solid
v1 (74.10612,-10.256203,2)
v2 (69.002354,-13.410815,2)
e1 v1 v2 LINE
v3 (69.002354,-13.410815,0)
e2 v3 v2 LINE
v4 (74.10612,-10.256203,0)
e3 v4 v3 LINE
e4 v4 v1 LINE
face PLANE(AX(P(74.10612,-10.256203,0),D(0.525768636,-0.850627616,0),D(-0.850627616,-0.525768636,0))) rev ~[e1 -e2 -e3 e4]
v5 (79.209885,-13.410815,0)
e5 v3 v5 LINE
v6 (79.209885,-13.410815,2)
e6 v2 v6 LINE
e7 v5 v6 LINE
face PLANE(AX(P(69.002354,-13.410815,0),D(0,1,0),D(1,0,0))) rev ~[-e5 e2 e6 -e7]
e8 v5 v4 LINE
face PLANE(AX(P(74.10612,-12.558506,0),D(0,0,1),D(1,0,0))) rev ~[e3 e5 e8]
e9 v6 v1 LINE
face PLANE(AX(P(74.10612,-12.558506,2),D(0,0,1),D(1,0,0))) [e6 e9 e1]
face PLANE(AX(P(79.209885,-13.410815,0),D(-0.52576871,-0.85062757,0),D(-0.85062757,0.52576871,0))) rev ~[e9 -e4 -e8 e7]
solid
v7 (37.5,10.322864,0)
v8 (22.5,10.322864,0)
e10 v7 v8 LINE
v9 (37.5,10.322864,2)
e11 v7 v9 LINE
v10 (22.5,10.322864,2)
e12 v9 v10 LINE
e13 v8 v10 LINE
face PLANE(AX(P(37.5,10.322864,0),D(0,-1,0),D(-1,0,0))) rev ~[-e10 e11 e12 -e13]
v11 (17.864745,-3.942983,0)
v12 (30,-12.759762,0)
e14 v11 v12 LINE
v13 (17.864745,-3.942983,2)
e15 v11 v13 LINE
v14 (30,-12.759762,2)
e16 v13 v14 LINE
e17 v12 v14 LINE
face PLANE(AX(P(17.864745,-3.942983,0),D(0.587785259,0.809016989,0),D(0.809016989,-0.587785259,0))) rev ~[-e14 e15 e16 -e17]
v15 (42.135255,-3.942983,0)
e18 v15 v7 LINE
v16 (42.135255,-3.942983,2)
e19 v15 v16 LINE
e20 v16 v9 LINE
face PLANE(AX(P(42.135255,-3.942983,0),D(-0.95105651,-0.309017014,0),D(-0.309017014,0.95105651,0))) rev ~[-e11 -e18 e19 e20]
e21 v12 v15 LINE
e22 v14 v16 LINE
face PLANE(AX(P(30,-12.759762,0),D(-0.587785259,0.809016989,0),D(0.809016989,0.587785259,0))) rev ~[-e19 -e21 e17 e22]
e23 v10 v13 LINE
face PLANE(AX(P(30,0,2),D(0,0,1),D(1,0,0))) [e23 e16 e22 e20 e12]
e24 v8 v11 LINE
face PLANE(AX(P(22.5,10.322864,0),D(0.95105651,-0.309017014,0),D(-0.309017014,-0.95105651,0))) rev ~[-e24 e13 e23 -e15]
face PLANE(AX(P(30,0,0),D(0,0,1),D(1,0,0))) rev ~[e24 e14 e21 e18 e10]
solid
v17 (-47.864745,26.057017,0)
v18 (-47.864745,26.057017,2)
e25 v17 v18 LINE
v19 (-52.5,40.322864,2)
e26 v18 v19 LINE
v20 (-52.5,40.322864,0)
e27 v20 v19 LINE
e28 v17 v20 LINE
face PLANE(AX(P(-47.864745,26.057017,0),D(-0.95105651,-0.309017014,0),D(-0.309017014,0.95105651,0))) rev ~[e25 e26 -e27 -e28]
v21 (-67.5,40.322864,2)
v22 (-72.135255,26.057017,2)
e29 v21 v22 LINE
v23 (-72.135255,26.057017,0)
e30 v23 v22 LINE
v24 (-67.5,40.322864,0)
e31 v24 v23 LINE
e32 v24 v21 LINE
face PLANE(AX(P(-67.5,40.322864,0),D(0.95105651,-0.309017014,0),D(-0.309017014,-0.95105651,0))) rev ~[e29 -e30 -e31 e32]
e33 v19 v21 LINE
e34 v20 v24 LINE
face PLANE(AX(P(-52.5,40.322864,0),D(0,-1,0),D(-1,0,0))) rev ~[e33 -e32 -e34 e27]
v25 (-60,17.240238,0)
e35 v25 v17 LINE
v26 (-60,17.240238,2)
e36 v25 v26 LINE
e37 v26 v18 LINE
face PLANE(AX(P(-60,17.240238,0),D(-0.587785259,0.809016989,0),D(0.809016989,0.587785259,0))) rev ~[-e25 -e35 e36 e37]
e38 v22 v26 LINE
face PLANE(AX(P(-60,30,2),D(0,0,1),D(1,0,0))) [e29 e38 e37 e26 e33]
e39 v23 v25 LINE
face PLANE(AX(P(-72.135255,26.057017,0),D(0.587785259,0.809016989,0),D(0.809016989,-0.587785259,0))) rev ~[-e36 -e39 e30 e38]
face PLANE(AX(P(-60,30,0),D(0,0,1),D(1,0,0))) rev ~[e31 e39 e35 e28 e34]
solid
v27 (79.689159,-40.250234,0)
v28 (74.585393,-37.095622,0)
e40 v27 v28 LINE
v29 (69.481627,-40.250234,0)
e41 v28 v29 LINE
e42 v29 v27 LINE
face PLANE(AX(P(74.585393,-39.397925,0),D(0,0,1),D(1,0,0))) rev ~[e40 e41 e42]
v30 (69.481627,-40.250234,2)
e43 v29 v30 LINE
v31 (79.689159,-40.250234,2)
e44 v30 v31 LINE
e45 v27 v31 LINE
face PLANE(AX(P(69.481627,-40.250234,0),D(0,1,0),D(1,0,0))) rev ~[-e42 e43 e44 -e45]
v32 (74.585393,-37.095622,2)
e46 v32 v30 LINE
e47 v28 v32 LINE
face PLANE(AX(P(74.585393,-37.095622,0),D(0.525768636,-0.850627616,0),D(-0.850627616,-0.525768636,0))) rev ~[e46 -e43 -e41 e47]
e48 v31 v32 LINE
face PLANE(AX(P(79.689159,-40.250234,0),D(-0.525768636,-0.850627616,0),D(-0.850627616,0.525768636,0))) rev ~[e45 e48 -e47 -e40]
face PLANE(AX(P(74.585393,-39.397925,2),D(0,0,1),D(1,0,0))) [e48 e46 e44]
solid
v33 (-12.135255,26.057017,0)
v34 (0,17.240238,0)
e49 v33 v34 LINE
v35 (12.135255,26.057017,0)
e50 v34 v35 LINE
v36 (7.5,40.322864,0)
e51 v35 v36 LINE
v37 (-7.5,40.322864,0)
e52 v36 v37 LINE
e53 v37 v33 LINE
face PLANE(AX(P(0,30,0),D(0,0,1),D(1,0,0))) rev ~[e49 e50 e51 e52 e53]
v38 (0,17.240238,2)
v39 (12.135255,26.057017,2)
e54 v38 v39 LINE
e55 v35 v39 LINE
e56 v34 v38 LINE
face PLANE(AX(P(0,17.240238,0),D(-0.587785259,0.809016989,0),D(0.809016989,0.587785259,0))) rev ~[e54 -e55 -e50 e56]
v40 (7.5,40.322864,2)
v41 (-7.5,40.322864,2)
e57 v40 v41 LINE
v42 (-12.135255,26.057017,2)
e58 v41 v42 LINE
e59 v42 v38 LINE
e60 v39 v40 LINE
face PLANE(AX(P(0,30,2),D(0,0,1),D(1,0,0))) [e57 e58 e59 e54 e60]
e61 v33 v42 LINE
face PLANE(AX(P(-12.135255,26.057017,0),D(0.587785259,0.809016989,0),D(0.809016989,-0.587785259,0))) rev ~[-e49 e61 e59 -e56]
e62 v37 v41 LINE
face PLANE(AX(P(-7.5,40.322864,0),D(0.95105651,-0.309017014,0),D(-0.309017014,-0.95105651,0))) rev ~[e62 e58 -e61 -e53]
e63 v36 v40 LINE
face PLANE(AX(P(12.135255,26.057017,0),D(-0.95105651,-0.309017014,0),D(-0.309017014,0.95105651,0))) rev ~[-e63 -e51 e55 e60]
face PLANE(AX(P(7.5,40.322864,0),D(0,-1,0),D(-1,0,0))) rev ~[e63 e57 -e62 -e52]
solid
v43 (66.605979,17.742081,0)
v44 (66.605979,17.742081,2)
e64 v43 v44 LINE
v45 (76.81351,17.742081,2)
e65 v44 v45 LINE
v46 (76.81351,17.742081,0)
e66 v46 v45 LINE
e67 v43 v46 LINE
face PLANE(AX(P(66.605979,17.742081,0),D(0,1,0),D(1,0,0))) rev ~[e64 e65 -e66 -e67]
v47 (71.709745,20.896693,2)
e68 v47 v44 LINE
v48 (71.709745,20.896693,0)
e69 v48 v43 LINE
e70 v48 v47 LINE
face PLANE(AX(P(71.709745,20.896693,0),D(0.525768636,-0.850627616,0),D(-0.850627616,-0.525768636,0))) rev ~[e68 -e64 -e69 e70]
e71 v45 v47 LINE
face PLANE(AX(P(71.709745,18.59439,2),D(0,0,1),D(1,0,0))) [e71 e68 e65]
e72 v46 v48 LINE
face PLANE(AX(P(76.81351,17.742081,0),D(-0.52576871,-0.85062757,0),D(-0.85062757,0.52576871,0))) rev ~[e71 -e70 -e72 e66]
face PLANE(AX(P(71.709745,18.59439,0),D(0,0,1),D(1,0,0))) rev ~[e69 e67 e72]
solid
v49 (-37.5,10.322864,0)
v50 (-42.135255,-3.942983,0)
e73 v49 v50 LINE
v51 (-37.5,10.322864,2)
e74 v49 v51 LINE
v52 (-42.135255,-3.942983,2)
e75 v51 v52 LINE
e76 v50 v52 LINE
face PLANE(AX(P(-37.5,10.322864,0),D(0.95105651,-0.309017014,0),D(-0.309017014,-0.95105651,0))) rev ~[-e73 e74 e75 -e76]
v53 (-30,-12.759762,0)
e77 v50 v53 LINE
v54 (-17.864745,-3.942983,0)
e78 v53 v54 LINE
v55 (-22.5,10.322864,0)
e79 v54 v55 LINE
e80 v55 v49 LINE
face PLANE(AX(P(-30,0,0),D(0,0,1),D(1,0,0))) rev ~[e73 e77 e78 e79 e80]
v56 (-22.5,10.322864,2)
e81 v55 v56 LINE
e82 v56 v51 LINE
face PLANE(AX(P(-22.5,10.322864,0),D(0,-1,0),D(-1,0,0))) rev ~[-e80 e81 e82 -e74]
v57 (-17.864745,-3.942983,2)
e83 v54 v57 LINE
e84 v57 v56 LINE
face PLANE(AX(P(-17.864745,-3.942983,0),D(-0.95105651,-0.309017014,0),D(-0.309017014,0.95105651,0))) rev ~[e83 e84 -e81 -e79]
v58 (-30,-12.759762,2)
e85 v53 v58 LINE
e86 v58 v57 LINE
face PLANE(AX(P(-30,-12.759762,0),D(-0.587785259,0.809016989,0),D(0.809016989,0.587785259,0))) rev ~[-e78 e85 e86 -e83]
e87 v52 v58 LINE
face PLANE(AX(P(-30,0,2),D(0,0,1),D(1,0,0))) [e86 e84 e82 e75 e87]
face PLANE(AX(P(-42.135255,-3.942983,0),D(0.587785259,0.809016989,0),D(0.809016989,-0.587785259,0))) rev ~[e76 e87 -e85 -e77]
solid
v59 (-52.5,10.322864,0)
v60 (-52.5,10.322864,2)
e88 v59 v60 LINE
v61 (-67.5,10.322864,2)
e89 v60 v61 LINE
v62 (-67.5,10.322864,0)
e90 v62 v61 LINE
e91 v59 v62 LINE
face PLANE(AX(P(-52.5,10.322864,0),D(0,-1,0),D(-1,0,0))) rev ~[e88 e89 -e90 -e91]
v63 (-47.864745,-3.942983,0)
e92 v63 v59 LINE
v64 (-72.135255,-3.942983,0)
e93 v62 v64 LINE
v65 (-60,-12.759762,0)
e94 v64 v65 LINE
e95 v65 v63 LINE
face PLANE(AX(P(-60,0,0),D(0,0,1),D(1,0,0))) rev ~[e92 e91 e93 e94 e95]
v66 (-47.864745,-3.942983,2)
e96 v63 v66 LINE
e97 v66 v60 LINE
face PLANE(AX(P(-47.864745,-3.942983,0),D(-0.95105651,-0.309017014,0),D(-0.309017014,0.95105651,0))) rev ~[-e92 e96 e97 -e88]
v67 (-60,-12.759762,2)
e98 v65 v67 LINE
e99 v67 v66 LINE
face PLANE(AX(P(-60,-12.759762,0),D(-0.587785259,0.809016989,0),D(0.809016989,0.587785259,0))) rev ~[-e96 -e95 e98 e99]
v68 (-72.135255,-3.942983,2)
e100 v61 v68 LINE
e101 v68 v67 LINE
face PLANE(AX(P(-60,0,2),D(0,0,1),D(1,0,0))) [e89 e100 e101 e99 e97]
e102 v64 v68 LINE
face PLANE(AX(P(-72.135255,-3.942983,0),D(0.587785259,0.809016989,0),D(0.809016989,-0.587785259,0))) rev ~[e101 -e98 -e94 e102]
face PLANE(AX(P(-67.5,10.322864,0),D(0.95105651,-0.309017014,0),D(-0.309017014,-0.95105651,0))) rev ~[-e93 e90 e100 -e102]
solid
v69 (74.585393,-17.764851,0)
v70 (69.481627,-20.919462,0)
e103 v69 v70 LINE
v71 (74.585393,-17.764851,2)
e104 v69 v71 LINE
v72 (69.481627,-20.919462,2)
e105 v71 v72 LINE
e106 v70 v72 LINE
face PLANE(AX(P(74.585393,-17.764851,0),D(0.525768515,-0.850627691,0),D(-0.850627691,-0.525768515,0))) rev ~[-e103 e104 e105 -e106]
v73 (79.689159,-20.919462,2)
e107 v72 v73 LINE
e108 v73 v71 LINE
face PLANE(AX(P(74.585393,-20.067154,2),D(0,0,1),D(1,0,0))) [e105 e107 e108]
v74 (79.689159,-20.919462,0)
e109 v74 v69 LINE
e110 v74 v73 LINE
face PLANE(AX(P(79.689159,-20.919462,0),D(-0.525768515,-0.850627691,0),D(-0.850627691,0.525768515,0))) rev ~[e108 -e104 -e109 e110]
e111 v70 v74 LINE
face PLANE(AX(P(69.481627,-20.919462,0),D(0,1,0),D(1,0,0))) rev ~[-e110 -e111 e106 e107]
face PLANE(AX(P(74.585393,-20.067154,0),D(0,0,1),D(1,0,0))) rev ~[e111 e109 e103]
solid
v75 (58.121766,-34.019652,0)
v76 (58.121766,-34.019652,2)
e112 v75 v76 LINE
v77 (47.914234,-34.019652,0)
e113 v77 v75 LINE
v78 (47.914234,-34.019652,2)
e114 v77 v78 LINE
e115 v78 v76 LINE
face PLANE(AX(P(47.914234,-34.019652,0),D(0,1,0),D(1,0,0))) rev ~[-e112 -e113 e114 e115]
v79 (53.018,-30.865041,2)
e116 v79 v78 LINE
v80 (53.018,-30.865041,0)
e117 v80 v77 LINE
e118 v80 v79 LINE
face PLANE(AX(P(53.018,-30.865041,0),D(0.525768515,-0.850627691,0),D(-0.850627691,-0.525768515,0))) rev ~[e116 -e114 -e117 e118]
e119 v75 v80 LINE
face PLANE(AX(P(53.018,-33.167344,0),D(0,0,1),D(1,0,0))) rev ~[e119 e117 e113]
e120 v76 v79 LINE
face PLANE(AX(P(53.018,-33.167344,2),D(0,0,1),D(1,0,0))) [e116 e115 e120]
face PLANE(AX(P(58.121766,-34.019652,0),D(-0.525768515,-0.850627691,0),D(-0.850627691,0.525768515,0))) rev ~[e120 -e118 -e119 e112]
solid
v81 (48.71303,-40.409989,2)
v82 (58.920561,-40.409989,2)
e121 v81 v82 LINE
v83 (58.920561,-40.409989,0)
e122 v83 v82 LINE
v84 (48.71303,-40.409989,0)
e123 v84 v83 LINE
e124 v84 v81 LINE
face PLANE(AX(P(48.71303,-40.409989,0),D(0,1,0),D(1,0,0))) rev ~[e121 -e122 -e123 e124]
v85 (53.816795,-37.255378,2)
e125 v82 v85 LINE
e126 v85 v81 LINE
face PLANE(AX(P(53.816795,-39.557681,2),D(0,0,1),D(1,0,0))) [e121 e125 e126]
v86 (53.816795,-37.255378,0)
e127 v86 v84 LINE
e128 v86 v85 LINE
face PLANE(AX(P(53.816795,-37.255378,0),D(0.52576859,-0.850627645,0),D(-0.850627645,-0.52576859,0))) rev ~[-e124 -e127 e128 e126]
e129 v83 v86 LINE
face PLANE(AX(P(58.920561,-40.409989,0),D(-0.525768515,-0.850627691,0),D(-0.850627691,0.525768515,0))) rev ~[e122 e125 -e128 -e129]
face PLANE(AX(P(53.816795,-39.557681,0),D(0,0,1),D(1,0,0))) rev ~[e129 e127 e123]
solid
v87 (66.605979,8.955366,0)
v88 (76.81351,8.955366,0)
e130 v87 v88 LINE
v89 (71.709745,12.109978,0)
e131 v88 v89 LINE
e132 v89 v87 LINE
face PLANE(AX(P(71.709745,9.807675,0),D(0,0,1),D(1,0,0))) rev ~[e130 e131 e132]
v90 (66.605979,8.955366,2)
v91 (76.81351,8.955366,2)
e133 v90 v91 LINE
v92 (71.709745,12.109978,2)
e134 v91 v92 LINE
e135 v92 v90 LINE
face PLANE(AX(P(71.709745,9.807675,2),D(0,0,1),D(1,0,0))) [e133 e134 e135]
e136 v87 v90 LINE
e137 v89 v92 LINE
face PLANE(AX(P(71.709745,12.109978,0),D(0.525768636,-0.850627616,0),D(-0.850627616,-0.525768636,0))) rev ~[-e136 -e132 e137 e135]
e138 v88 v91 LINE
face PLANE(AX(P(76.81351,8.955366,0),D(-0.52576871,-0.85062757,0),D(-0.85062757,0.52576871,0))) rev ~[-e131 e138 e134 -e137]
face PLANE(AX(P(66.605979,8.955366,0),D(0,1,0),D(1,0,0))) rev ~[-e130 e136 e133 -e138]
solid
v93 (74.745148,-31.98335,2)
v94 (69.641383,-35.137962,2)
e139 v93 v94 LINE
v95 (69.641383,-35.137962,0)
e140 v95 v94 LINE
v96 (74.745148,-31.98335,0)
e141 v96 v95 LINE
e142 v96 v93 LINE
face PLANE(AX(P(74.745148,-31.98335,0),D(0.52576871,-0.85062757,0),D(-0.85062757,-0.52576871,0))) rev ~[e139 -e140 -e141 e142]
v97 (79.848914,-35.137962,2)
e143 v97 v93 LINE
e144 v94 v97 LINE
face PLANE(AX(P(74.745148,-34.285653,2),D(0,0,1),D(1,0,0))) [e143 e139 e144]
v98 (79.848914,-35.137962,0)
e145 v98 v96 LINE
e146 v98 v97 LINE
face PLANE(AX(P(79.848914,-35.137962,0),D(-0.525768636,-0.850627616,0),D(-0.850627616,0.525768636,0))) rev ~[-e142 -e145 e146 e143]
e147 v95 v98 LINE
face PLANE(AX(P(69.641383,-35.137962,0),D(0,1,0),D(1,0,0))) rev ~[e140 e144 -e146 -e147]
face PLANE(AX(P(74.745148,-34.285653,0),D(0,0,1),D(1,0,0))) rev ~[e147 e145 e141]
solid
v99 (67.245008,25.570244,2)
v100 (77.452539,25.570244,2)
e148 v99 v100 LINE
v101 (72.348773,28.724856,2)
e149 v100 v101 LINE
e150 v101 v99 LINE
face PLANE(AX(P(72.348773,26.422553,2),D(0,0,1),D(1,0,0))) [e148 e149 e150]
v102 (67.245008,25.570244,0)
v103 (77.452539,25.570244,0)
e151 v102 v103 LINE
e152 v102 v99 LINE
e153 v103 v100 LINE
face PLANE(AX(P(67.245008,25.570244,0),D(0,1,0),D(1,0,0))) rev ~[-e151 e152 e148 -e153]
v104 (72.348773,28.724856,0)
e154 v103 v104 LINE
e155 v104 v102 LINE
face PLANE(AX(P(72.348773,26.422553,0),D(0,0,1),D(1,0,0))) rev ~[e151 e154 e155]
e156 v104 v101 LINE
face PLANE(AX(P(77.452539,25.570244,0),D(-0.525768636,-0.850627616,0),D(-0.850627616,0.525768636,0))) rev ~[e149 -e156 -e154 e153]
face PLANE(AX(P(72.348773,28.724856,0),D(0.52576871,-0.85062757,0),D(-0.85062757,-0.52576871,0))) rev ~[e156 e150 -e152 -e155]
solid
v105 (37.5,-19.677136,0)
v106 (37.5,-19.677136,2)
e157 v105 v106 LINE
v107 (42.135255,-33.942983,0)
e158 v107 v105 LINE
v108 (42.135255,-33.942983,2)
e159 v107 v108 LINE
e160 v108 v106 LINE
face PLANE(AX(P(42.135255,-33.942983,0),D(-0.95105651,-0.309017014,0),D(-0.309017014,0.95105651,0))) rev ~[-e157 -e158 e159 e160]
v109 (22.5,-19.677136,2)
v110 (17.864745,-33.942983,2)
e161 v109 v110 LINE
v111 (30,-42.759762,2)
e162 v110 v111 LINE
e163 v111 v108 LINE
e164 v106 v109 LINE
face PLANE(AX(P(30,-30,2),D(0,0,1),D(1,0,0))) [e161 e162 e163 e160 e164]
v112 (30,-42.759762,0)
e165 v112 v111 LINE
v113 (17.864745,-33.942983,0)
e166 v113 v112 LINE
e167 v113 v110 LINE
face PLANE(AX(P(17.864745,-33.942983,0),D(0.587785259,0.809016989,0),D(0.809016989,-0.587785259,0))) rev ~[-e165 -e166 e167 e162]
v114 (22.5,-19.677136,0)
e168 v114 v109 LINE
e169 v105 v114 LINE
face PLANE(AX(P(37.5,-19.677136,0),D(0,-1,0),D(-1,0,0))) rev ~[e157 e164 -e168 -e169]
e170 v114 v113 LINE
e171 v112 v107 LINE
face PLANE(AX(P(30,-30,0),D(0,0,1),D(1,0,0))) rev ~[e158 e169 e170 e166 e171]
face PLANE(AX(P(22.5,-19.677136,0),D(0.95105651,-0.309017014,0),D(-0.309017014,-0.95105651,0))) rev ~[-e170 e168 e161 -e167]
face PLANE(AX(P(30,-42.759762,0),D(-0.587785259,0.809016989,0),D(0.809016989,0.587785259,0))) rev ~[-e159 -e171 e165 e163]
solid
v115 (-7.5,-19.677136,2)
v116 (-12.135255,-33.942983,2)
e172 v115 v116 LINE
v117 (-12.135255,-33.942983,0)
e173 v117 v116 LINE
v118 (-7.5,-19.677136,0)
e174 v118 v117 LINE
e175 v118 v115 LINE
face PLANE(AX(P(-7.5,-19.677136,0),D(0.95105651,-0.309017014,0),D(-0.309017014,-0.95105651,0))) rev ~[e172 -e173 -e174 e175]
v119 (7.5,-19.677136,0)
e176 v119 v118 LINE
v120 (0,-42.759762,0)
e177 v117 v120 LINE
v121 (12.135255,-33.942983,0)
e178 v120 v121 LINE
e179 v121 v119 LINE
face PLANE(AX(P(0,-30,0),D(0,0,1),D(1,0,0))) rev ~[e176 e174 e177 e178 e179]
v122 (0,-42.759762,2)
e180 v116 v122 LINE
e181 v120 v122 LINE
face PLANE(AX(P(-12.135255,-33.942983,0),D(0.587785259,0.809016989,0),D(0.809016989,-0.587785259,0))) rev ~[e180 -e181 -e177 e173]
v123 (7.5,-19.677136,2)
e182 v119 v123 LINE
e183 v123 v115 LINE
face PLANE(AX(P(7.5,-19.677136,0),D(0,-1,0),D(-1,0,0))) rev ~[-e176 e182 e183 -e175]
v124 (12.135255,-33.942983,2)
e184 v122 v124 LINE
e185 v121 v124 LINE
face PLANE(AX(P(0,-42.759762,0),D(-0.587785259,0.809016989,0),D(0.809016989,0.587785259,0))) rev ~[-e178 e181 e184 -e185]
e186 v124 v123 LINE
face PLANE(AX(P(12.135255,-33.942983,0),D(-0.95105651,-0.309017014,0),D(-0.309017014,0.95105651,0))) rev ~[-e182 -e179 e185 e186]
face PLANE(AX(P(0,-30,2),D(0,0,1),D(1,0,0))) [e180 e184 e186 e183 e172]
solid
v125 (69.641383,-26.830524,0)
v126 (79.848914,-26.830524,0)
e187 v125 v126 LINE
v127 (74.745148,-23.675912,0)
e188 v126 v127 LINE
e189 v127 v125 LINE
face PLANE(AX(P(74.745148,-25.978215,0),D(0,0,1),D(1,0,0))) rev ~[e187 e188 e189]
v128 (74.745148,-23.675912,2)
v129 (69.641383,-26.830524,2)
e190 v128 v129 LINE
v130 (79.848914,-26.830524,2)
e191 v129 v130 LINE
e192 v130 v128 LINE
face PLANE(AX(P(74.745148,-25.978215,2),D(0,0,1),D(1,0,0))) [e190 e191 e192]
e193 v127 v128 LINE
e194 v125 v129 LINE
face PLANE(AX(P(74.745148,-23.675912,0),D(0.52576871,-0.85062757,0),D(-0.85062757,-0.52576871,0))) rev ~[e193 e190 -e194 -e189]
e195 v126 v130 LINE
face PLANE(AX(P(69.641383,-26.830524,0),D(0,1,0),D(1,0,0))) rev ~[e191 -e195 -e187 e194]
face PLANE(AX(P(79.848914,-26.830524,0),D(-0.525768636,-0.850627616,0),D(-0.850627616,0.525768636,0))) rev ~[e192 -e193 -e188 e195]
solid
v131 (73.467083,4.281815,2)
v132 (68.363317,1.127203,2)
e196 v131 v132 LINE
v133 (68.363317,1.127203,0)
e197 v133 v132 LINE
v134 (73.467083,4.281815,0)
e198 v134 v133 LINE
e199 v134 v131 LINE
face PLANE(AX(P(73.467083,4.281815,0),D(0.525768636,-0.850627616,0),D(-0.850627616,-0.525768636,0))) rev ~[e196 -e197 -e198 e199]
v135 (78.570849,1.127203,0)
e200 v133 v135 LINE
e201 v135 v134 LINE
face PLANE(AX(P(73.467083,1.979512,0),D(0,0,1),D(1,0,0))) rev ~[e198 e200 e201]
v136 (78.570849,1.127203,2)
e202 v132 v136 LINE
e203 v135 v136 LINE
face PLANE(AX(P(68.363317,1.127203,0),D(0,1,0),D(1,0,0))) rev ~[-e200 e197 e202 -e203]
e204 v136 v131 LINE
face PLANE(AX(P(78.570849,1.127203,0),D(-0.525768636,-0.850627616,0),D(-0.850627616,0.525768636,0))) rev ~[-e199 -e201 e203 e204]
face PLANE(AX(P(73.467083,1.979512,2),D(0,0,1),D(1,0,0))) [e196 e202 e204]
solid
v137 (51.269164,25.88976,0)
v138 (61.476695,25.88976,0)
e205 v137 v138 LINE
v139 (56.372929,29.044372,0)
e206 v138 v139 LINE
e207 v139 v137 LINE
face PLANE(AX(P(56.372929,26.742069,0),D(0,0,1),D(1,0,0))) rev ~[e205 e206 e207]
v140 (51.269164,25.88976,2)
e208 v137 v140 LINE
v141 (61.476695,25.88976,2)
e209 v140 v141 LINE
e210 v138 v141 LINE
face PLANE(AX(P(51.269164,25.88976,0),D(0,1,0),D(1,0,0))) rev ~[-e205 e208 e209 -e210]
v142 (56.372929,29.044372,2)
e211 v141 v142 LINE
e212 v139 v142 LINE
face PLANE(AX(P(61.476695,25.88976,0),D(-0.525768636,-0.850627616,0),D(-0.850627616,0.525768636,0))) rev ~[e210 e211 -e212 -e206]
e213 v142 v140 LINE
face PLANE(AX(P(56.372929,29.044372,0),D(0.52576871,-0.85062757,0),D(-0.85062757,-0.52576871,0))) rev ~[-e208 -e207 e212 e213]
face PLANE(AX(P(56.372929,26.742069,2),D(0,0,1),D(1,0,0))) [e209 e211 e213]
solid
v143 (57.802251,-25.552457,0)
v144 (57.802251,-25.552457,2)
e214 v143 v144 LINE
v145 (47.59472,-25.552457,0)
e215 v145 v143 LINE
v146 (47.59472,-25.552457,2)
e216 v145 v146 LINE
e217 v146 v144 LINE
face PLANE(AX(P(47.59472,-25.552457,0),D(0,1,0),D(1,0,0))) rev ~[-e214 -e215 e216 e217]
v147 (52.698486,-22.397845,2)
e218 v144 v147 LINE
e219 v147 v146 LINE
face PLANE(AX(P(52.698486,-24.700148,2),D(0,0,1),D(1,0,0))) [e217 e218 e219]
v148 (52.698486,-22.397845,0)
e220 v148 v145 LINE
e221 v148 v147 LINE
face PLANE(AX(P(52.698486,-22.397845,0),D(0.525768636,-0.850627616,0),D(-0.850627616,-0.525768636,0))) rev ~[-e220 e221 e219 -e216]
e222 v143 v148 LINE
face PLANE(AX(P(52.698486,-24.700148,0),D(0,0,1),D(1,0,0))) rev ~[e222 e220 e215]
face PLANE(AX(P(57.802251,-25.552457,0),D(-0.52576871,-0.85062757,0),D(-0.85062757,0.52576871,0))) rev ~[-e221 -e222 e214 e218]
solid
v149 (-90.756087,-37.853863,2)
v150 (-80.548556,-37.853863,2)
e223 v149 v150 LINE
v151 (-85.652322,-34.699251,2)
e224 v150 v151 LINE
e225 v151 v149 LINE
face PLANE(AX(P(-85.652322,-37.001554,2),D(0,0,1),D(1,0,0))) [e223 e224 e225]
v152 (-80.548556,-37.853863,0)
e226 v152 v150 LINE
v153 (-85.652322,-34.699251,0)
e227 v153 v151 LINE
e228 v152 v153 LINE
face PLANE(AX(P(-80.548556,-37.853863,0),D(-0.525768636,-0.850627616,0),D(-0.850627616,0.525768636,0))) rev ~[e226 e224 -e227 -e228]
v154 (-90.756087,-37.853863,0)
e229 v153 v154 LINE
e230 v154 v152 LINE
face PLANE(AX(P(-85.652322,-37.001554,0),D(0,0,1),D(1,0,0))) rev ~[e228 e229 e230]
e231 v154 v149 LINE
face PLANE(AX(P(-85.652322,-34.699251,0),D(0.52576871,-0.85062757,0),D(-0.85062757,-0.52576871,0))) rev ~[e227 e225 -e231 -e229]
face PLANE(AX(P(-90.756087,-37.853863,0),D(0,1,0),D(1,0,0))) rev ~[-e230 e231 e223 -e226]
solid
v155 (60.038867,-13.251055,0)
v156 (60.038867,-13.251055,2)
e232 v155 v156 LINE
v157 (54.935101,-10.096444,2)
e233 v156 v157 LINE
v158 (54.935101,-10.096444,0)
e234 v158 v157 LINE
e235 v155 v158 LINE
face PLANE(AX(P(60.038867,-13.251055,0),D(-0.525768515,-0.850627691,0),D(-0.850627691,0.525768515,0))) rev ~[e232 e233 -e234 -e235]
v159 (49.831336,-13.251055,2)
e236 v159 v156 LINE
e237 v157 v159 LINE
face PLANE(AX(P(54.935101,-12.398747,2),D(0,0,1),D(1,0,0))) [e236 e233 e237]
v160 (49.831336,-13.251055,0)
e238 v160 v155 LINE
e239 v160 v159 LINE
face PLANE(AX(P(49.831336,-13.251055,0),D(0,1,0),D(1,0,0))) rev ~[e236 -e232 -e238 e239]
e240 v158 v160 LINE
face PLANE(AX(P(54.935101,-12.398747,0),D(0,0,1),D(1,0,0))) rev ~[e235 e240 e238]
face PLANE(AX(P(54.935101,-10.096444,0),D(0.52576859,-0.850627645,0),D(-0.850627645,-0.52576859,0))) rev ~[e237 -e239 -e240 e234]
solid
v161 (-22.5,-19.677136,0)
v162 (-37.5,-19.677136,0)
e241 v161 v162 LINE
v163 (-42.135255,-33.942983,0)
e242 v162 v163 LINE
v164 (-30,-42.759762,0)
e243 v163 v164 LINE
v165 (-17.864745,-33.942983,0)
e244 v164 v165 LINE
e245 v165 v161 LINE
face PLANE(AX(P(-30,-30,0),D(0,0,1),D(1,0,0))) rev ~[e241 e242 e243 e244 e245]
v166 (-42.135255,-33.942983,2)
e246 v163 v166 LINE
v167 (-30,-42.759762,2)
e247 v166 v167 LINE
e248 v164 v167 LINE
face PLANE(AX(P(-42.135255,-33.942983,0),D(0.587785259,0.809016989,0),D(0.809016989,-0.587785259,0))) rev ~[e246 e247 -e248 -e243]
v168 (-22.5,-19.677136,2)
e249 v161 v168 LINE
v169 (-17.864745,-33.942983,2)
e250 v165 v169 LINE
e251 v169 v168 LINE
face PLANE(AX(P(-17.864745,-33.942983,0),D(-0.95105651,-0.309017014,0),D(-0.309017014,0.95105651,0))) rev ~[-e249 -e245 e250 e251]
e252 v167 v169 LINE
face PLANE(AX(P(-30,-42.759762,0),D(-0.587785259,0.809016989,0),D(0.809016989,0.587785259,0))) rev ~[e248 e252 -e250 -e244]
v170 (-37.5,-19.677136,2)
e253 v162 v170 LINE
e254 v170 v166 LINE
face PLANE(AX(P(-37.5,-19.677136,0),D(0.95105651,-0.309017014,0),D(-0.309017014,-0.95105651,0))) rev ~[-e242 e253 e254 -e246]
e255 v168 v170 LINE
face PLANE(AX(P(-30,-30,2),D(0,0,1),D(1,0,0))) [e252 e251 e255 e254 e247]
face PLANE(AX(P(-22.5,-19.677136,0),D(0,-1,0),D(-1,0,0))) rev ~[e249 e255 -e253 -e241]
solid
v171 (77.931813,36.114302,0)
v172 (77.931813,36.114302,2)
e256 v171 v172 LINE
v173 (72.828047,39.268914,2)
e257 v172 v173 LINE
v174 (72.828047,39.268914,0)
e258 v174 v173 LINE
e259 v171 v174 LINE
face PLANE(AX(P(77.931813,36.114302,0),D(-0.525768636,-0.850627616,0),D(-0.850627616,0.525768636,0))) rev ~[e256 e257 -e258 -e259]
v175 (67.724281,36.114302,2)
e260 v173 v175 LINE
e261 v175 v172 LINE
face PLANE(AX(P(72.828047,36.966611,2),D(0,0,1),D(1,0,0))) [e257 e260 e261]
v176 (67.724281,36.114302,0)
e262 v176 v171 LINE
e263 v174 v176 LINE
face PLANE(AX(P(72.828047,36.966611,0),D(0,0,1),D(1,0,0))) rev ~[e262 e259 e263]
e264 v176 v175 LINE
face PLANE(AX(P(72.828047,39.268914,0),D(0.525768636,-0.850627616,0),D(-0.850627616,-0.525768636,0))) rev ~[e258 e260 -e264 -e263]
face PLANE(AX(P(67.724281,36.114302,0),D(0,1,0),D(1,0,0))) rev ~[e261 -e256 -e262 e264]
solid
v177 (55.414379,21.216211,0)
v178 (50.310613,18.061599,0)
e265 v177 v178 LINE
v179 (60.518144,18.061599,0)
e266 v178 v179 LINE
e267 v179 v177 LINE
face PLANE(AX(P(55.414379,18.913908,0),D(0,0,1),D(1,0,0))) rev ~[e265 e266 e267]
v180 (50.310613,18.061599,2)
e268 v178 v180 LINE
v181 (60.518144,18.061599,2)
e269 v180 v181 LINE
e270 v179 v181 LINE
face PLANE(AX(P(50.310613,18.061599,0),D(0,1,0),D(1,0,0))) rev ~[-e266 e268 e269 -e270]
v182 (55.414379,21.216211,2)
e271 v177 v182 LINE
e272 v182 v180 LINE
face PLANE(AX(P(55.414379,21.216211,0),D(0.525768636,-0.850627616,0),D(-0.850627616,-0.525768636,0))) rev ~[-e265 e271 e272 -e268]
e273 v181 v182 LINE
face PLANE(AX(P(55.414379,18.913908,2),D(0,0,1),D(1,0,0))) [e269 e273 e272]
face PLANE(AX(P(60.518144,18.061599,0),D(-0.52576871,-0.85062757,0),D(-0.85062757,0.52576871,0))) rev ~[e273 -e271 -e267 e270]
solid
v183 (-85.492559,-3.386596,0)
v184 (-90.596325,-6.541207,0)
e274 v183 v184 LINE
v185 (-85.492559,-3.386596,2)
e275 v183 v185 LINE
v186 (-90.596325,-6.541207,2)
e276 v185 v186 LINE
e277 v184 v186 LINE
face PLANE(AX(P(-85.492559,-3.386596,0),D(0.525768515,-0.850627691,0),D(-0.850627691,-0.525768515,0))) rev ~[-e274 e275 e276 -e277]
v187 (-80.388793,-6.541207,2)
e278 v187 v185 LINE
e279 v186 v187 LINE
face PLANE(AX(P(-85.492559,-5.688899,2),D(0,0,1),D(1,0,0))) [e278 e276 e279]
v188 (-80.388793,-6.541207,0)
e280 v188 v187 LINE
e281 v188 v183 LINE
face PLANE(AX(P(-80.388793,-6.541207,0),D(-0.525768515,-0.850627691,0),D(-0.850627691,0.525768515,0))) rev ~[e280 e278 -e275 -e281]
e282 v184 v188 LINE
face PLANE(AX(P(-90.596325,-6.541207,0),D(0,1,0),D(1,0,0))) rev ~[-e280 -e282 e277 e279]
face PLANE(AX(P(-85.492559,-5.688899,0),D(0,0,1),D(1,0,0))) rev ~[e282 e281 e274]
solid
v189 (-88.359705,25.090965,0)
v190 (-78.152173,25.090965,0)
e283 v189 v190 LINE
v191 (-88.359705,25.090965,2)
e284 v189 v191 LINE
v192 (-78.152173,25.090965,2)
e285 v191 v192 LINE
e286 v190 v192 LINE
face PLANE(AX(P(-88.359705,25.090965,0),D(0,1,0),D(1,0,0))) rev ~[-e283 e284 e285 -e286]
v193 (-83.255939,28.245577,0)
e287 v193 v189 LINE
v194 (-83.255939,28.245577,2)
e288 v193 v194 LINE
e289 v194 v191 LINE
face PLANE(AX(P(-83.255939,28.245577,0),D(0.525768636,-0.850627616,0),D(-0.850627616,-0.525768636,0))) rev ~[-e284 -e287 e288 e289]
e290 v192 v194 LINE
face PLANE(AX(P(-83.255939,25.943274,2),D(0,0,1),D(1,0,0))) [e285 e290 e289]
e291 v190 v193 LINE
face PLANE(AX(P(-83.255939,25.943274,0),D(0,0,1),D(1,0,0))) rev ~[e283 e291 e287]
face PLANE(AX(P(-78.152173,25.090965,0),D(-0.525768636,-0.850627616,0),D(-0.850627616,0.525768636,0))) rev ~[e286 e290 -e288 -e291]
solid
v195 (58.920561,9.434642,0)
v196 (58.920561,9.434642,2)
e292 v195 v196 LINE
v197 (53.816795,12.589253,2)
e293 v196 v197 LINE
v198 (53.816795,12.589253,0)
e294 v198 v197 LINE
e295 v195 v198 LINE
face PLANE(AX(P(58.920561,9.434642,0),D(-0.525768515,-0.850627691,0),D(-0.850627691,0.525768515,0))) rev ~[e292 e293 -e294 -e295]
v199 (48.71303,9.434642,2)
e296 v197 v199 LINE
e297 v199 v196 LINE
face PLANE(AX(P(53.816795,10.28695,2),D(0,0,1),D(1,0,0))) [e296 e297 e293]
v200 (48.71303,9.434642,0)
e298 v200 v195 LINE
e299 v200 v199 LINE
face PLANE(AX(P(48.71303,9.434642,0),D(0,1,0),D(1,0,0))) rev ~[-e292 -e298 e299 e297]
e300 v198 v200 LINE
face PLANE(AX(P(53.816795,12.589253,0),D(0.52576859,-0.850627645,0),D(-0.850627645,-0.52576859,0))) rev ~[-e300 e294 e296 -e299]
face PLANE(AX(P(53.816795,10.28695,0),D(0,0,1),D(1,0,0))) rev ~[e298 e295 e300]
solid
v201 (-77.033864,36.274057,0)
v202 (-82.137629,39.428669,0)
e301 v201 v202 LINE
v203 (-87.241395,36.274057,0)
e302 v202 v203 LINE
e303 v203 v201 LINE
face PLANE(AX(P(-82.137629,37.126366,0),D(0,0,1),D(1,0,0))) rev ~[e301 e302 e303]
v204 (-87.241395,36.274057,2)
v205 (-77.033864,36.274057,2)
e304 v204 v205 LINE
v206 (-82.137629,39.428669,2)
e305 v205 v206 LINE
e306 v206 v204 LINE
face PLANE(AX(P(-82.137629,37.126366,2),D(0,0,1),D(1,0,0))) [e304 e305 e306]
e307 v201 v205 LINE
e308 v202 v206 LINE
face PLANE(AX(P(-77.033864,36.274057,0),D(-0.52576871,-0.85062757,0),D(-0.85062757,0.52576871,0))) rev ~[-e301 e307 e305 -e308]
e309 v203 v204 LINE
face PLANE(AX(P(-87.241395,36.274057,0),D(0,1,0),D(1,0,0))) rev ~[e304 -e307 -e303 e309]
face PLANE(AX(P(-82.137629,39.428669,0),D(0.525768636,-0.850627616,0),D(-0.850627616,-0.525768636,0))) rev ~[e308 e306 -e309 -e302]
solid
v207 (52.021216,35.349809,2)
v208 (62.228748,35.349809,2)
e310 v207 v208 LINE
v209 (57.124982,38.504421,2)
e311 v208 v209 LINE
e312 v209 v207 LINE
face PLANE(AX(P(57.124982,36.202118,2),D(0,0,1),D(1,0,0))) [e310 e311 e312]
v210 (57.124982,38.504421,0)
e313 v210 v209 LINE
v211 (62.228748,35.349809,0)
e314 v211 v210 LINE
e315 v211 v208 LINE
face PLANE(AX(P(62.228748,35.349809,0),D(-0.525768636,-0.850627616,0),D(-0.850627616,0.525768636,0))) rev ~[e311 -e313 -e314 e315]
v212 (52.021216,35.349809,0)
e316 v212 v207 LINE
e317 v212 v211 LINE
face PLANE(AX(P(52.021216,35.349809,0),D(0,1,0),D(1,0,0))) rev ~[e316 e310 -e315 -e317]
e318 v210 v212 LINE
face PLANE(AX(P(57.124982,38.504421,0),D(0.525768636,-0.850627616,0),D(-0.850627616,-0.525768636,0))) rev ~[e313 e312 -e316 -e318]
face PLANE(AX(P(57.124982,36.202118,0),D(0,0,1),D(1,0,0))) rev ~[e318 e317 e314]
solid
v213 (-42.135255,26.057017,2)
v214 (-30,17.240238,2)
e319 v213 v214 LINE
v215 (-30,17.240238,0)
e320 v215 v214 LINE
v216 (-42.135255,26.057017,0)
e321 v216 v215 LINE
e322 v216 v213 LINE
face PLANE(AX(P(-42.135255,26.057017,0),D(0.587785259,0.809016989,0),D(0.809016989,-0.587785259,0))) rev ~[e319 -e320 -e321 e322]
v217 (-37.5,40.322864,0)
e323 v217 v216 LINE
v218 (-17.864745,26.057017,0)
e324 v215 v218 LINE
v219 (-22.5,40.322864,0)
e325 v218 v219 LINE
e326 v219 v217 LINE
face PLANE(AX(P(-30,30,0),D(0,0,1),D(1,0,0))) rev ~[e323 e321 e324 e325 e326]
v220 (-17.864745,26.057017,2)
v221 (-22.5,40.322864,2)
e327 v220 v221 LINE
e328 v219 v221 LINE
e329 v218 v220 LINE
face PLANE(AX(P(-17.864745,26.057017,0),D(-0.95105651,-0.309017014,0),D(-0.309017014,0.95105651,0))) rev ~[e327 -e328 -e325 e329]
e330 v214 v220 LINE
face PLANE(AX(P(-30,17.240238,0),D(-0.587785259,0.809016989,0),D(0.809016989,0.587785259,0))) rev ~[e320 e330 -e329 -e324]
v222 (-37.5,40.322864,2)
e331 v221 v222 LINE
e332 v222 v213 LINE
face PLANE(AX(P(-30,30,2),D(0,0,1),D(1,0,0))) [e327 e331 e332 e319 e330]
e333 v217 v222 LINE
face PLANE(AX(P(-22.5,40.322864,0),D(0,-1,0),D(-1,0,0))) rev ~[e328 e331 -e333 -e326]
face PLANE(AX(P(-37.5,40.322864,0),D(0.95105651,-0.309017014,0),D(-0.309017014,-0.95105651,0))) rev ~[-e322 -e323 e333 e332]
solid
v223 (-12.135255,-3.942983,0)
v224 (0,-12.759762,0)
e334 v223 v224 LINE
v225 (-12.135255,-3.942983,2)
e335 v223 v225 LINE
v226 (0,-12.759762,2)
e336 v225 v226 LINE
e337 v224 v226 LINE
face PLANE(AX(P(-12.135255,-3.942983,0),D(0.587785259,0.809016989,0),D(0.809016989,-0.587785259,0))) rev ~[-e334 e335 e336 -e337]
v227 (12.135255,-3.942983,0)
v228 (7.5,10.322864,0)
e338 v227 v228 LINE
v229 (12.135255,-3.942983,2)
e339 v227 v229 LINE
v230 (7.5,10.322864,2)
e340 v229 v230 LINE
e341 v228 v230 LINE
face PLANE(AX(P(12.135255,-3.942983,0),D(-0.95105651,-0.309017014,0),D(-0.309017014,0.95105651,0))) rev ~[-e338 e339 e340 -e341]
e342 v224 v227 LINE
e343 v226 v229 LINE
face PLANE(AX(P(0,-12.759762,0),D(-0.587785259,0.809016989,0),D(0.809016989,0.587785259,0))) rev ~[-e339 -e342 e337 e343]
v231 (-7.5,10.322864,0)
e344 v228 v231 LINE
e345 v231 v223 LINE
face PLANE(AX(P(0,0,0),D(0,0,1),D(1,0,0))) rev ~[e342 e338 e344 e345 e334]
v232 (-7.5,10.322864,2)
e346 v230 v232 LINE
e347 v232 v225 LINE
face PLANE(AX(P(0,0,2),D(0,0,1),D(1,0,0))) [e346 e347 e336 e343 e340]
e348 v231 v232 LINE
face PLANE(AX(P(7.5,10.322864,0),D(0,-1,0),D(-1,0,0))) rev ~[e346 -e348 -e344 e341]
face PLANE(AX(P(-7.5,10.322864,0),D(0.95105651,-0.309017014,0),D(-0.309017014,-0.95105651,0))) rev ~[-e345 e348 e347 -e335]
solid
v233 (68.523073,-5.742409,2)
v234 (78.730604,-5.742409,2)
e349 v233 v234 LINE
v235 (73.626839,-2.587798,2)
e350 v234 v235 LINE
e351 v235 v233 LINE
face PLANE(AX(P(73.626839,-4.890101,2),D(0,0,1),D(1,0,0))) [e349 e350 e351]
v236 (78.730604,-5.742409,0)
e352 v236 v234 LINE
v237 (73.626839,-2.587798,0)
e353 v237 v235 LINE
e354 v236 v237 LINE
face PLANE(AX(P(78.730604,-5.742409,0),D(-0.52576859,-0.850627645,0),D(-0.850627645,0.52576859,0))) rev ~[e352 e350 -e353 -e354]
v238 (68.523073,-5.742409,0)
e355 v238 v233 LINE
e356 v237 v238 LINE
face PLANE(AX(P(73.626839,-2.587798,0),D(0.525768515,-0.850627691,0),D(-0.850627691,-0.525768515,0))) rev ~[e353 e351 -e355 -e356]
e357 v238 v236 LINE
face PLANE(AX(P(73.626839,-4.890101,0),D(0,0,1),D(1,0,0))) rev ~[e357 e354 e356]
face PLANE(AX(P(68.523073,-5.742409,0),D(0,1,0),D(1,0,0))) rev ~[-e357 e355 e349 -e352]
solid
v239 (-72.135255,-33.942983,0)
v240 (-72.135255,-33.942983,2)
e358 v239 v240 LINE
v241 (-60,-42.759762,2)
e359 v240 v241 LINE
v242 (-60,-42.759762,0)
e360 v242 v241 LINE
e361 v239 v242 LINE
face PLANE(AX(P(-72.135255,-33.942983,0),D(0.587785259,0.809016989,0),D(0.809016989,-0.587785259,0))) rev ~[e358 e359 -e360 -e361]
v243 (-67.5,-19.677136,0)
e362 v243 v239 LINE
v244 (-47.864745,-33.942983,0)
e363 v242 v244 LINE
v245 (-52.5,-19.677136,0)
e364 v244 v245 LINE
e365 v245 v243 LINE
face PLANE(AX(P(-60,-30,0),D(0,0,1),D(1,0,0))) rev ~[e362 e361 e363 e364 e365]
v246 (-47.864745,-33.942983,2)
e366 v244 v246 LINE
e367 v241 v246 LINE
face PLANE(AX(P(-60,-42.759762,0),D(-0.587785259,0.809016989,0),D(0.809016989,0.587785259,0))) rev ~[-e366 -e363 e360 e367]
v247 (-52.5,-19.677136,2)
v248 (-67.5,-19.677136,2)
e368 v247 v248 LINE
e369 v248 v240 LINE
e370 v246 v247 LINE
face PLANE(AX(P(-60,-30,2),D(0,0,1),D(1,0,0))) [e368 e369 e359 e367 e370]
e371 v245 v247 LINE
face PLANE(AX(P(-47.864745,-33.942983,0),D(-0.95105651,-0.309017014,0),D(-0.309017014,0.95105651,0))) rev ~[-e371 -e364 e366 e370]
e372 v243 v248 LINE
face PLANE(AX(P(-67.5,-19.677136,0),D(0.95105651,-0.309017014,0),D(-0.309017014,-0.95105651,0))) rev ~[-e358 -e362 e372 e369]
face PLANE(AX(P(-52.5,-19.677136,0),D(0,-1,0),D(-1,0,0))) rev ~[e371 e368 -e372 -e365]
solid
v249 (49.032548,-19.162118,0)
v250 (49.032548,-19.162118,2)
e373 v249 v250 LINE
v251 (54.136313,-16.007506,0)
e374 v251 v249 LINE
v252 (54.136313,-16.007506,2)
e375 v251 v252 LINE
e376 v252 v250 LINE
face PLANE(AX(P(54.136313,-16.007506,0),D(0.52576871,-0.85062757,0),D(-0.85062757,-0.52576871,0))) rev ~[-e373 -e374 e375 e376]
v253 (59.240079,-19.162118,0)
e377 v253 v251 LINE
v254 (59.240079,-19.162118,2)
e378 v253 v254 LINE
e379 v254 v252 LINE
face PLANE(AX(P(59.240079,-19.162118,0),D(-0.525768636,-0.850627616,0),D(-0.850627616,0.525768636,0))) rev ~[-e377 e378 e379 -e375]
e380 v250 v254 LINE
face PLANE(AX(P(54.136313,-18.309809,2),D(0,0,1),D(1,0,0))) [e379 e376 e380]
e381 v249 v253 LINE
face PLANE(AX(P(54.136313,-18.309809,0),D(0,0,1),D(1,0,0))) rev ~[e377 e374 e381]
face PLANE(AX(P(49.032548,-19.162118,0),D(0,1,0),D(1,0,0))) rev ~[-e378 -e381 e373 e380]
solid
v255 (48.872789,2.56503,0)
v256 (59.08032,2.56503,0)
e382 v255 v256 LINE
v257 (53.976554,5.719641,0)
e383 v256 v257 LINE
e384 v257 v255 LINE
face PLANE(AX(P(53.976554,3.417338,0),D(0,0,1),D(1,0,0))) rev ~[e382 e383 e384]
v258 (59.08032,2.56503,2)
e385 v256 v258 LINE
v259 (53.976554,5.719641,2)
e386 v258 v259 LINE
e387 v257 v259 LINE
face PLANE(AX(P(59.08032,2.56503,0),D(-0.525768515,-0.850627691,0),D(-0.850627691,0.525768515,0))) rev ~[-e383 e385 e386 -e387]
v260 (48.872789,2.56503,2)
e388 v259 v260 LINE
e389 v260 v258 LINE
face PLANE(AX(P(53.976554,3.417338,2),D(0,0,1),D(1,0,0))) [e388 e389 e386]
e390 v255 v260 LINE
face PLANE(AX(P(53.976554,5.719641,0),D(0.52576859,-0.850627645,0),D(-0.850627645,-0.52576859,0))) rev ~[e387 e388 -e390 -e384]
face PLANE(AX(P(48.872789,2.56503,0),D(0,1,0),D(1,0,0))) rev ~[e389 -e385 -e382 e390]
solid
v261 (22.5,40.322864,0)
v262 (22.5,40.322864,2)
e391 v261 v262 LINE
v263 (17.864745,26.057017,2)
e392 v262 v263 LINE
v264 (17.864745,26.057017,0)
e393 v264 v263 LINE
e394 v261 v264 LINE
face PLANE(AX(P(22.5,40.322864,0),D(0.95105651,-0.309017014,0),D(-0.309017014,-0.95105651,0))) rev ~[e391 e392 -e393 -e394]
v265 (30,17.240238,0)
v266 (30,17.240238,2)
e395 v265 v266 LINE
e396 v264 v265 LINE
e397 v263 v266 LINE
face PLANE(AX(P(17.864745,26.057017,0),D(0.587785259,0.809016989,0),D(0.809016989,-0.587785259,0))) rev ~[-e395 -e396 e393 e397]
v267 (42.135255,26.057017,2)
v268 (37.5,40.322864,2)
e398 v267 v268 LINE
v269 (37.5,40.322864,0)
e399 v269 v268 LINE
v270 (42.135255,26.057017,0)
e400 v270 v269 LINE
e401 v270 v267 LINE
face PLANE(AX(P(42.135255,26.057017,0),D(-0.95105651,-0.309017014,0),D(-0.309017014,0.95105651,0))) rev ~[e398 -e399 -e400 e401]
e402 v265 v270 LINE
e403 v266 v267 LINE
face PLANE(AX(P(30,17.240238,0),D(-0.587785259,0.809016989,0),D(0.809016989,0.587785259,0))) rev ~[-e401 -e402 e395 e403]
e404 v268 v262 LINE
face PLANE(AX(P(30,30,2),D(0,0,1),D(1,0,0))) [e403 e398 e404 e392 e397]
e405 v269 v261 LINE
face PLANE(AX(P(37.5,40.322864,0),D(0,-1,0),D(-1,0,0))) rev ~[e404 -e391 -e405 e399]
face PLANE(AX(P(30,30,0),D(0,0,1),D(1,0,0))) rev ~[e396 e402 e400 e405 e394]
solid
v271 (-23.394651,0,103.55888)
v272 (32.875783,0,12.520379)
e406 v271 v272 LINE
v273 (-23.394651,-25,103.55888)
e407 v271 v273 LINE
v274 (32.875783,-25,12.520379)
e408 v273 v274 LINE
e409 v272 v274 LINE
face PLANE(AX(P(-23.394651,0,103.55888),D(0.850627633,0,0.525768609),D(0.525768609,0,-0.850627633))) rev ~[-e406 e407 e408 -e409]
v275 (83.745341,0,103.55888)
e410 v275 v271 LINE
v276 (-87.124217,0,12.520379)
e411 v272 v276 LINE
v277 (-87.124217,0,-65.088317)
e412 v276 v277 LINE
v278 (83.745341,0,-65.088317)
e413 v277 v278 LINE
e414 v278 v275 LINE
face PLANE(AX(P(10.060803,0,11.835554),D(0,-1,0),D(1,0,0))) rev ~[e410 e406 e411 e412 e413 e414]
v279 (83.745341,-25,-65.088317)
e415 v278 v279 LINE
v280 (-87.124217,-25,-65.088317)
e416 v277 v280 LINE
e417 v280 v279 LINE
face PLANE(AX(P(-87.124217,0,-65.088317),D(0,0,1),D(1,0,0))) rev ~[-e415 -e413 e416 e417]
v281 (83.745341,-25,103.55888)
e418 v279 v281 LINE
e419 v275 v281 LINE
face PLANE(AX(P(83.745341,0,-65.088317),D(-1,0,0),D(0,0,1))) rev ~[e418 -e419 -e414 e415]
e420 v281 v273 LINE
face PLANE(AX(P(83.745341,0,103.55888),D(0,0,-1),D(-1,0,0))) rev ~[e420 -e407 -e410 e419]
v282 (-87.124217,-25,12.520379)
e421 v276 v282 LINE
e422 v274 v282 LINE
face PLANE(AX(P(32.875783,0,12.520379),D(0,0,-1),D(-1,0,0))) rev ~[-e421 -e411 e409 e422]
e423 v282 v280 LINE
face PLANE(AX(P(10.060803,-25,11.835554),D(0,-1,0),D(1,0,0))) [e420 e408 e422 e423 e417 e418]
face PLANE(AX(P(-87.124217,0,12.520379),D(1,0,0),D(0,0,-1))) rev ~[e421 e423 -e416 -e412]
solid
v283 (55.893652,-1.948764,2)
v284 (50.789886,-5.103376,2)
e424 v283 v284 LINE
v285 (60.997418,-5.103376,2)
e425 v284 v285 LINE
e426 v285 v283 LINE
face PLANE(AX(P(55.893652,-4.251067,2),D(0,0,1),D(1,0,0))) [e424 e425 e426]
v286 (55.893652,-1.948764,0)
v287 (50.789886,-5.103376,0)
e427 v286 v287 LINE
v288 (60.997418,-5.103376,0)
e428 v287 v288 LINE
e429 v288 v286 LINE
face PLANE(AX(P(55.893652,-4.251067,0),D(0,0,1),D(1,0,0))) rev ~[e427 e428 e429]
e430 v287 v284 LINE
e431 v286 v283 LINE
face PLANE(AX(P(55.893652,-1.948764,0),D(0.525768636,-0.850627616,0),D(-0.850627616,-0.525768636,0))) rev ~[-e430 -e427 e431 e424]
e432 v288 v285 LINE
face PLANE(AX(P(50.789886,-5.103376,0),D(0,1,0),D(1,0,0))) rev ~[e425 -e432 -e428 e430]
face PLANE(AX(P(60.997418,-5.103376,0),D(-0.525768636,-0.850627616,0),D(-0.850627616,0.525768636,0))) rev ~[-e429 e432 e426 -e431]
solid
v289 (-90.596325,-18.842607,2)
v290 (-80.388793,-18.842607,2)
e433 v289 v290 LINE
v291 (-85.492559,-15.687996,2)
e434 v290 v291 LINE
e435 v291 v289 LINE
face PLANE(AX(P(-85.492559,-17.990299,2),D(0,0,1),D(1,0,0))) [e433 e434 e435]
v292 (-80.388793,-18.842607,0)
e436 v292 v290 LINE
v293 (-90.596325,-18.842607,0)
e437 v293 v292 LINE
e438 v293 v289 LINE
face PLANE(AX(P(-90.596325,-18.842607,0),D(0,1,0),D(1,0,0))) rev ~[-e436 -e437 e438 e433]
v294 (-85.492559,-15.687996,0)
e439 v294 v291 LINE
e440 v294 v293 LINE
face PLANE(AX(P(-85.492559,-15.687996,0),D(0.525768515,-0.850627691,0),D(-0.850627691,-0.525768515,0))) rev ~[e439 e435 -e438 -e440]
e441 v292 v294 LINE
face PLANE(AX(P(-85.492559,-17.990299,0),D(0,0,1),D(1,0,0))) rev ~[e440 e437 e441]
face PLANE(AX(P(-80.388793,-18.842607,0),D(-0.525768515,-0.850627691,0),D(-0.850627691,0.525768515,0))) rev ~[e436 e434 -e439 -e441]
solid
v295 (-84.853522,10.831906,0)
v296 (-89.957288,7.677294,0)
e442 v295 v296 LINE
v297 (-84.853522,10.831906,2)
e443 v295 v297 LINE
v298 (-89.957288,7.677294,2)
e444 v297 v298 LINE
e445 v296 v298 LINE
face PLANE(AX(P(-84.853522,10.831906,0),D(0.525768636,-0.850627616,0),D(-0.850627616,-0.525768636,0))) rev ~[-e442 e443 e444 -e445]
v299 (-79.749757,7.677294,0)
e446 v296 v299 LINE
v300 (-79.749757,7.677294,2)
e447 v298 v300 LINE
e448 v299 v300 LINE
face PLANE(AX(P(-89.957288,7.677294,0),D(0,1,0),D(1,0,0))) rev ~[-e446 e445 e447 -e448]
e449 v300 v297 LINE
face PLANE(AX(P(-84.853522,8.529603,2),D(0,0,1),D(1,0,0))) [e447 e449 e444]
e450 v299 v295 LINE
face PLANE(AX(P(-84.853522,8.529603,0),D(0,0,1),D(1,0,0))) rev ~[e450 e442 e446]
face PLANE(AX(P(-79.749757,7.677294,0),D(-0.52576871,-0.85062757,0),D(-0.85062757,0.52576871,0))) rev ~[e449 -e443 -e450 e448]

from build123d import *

# Parameters (mm, degrees)
F1_DEPTH = 2
F3_DEPTH = 25


with BuildPart() as f1:
    # F0 (on Top) → F1 (new body)
    with BuildSketch(Plane.XY):
        Polygon((-82.137629, 39.428669), (-87.241395, 36.274057), (-77.033864, 36.274057), align=None)
        Polygon((-52.5, 40.322864), (-67.5, 40.322864), (-72.135255, 26.057017), (-60, 17.240238), (-47.864745, 26.057017), align=None)
        Polygon((-22.5, 40.322864), (-37.5, 40.322864), (-42.135255, 26.057017), (-30, 17.240238), (-17.864745, 26.057017), align=None)
        Polygon((7.5, 40.322864), (-7.5, 40.322864), (-12.135255, 26.057017), (0, 17.240238), (12.135255, 26.057017), align=None)
        Polygon((37.5, 40.322864), (22.5, 40.322864), (17.864745, 26.057017), (30, 17.240238), (42.135255, 26.057017), align=None)
        Polygon((37.5, 10.322864), (22.5, 10.322864), (17.864745, -3.942983), (30, -12.759762), (42.135255, -3.942983), align=None)
        Polygon((7.5, 10.322864), (-7.5, 10.322864), (-12.135255, -3.942983), (0, -12.759762), (12.135255, -3.942983), align=None)
        Polygon((-22.5, 10.322864), (-37.5, 10.322864), (-42.135255, -3.942983), (-30, -12.759762), (-17.864745, -3.942983), align=None)
        Polygon((-52.5, 10.322864), (-67.5, 10.322864), (-72.135255, -3.942983), (-60, -12.759762), (-47.864745, -3.942983), align=None)
        Polygon((-52.5, -19.677136), (-67.5, -19.677136), (-72.135255, -33.942983), (-60, -42.759762), (-47.864745, -33.942983), align=None)
        Polygon((-22.5, -19.677136), (-37.5, -19.677136), (-42.135255, -33.942983), (-30, -42.759762), (-17.864745, -33.942983), align=None)
        Polygon((7.5, -19.677136), (-7.5, -19.677136), (-12.135255, -33.942983), (0, -42.759762), (12.135255, -33.942983), align=None)
        Polygon((37.5, -19.677136), (22.5, -19.677136), (17.864745, -33.942983), (30, -42.759762), (42.135255, -33.942983), align=None)
        Polygon((-83.255939, 28.245577), (-88.359705, 25.090965), (-78.152173, 25.090965), align=None)
        Polygon((-84.853522, 10.831906), (-89.957288, 7.677294), (-79.749757, 7.677294), align=None)
        Polygon((-85.492559, -3.386596), (-90.596325, -6.541207), (-80.388793, -6.541207), align=None)
        Polygon((-85.492559, -15.687996), (-90.596325, -18.842607), (-80.388793, -18.842607), align=None)
        Polygon((-85.652322, -34.699251), (-90.756087, -37.853863), (-80.548556, -37.853863), align=None)
        Polygon((74.585393, -37.095622), (69.481627, -40.250234), (79.689159, -40.250234), align=None)
        Polygon((53.816795, -37.255378), (48.71303, -40.409989), (58.920561, -40.409989), align=None)
        Polygon((53.018, -30.865041), (47.914234, -34.019652), (58.121766, -34.019652), align=None)
        Polygon((74.745148, -31.98335), (69.641383, -35.137962), (79.848914, -35.137962), align=None)
        Polygon((74.745148, -23.675912), (69.641383, -26.830524), (79.848914, -26.830524), align=None)
        Polygon((52.698486, -22.397845), (47.59472, -25.552457), (57.802251, -25.552457), align=None)
        Polygon((54.136313, -16.007506), (49.032548, -19.162118), (59.240079, -19.162118), align=None)
        Polygon((74.585393, -17.764851), (69.481627, -20.919462), (79.689159, -20.919462), align=None)
        Polygon((54.935101, -10.096444), (49.831336, -13.251055), (60.038867, -13.251055), align=None)
        Polygon((74.10612, -10.256203), (69.002354, -13.410815), (79.209885, -13.410815), align=None)
        Polygon((73.626839, -2.587798), (68.523073, -5.742409), (78.730604, -5.742409), align=None)
        Polygon((55.893652, -1.948764), (50.789886, -5.103376), (60.997418, -5.103376), align=None)
        Polygon((53.976554, 5.719641), (48.872789, 2.56503), (59.08032, 2.56503), align=None)
        Polygon((73.467083, 4.281815), (68.363317, 1.127203), (78.570849, 1.127203), align=None)
        Polygon((71.709745, 12.109978), (66.605979, 8.955366), (76.81351, 8.955366), align=None)
        Polygon((53.816795, 12.589253), (48.71303, 9.434642), (58.920561, 9.434642), align=None)
        Polygon((55.414379, 21.216211), (50.310613, 18.061599), (60.518144, 18.061599), align=None)
        Polygon((71.709745, 20.896693), (66.605979, 17.742081), (76.81351, 17.742081), align=None)
        Polygon((72.348773, 28.724856), (67.245008, 25.570244), (77.452539, 25.570244), align=None)
        Polygon((56.372929, 29.044372), (51.269164, 25.88976), (61.476695, 25.88976), align=None)
        Polygon((72.828047, 39.268914), (67.724281, 36.114302), (77.931813, 36.114302), align=None)
        Polygon((57.124982, 38.504421), (52.021216, 35.349809), (62.228748, 35.349809), align=None)
    extrude(amount=F1_DEPTH)


with BuildPart() as f3:
    # F2 (on Front) → F3 (new body)
    with BuildSketch(Plane.XZ):
        Polygon((32.875783, 12.520379), (-87.124217, 12.520379), (-87.124217, -65.088317), (83.745341, -65.088317), (83.745341, 103.55888), (-23.394651, 103.55888), align=None)
    extrude(amount=F3_DEPTH)


solid = Compound([f1.part, f3.part])
